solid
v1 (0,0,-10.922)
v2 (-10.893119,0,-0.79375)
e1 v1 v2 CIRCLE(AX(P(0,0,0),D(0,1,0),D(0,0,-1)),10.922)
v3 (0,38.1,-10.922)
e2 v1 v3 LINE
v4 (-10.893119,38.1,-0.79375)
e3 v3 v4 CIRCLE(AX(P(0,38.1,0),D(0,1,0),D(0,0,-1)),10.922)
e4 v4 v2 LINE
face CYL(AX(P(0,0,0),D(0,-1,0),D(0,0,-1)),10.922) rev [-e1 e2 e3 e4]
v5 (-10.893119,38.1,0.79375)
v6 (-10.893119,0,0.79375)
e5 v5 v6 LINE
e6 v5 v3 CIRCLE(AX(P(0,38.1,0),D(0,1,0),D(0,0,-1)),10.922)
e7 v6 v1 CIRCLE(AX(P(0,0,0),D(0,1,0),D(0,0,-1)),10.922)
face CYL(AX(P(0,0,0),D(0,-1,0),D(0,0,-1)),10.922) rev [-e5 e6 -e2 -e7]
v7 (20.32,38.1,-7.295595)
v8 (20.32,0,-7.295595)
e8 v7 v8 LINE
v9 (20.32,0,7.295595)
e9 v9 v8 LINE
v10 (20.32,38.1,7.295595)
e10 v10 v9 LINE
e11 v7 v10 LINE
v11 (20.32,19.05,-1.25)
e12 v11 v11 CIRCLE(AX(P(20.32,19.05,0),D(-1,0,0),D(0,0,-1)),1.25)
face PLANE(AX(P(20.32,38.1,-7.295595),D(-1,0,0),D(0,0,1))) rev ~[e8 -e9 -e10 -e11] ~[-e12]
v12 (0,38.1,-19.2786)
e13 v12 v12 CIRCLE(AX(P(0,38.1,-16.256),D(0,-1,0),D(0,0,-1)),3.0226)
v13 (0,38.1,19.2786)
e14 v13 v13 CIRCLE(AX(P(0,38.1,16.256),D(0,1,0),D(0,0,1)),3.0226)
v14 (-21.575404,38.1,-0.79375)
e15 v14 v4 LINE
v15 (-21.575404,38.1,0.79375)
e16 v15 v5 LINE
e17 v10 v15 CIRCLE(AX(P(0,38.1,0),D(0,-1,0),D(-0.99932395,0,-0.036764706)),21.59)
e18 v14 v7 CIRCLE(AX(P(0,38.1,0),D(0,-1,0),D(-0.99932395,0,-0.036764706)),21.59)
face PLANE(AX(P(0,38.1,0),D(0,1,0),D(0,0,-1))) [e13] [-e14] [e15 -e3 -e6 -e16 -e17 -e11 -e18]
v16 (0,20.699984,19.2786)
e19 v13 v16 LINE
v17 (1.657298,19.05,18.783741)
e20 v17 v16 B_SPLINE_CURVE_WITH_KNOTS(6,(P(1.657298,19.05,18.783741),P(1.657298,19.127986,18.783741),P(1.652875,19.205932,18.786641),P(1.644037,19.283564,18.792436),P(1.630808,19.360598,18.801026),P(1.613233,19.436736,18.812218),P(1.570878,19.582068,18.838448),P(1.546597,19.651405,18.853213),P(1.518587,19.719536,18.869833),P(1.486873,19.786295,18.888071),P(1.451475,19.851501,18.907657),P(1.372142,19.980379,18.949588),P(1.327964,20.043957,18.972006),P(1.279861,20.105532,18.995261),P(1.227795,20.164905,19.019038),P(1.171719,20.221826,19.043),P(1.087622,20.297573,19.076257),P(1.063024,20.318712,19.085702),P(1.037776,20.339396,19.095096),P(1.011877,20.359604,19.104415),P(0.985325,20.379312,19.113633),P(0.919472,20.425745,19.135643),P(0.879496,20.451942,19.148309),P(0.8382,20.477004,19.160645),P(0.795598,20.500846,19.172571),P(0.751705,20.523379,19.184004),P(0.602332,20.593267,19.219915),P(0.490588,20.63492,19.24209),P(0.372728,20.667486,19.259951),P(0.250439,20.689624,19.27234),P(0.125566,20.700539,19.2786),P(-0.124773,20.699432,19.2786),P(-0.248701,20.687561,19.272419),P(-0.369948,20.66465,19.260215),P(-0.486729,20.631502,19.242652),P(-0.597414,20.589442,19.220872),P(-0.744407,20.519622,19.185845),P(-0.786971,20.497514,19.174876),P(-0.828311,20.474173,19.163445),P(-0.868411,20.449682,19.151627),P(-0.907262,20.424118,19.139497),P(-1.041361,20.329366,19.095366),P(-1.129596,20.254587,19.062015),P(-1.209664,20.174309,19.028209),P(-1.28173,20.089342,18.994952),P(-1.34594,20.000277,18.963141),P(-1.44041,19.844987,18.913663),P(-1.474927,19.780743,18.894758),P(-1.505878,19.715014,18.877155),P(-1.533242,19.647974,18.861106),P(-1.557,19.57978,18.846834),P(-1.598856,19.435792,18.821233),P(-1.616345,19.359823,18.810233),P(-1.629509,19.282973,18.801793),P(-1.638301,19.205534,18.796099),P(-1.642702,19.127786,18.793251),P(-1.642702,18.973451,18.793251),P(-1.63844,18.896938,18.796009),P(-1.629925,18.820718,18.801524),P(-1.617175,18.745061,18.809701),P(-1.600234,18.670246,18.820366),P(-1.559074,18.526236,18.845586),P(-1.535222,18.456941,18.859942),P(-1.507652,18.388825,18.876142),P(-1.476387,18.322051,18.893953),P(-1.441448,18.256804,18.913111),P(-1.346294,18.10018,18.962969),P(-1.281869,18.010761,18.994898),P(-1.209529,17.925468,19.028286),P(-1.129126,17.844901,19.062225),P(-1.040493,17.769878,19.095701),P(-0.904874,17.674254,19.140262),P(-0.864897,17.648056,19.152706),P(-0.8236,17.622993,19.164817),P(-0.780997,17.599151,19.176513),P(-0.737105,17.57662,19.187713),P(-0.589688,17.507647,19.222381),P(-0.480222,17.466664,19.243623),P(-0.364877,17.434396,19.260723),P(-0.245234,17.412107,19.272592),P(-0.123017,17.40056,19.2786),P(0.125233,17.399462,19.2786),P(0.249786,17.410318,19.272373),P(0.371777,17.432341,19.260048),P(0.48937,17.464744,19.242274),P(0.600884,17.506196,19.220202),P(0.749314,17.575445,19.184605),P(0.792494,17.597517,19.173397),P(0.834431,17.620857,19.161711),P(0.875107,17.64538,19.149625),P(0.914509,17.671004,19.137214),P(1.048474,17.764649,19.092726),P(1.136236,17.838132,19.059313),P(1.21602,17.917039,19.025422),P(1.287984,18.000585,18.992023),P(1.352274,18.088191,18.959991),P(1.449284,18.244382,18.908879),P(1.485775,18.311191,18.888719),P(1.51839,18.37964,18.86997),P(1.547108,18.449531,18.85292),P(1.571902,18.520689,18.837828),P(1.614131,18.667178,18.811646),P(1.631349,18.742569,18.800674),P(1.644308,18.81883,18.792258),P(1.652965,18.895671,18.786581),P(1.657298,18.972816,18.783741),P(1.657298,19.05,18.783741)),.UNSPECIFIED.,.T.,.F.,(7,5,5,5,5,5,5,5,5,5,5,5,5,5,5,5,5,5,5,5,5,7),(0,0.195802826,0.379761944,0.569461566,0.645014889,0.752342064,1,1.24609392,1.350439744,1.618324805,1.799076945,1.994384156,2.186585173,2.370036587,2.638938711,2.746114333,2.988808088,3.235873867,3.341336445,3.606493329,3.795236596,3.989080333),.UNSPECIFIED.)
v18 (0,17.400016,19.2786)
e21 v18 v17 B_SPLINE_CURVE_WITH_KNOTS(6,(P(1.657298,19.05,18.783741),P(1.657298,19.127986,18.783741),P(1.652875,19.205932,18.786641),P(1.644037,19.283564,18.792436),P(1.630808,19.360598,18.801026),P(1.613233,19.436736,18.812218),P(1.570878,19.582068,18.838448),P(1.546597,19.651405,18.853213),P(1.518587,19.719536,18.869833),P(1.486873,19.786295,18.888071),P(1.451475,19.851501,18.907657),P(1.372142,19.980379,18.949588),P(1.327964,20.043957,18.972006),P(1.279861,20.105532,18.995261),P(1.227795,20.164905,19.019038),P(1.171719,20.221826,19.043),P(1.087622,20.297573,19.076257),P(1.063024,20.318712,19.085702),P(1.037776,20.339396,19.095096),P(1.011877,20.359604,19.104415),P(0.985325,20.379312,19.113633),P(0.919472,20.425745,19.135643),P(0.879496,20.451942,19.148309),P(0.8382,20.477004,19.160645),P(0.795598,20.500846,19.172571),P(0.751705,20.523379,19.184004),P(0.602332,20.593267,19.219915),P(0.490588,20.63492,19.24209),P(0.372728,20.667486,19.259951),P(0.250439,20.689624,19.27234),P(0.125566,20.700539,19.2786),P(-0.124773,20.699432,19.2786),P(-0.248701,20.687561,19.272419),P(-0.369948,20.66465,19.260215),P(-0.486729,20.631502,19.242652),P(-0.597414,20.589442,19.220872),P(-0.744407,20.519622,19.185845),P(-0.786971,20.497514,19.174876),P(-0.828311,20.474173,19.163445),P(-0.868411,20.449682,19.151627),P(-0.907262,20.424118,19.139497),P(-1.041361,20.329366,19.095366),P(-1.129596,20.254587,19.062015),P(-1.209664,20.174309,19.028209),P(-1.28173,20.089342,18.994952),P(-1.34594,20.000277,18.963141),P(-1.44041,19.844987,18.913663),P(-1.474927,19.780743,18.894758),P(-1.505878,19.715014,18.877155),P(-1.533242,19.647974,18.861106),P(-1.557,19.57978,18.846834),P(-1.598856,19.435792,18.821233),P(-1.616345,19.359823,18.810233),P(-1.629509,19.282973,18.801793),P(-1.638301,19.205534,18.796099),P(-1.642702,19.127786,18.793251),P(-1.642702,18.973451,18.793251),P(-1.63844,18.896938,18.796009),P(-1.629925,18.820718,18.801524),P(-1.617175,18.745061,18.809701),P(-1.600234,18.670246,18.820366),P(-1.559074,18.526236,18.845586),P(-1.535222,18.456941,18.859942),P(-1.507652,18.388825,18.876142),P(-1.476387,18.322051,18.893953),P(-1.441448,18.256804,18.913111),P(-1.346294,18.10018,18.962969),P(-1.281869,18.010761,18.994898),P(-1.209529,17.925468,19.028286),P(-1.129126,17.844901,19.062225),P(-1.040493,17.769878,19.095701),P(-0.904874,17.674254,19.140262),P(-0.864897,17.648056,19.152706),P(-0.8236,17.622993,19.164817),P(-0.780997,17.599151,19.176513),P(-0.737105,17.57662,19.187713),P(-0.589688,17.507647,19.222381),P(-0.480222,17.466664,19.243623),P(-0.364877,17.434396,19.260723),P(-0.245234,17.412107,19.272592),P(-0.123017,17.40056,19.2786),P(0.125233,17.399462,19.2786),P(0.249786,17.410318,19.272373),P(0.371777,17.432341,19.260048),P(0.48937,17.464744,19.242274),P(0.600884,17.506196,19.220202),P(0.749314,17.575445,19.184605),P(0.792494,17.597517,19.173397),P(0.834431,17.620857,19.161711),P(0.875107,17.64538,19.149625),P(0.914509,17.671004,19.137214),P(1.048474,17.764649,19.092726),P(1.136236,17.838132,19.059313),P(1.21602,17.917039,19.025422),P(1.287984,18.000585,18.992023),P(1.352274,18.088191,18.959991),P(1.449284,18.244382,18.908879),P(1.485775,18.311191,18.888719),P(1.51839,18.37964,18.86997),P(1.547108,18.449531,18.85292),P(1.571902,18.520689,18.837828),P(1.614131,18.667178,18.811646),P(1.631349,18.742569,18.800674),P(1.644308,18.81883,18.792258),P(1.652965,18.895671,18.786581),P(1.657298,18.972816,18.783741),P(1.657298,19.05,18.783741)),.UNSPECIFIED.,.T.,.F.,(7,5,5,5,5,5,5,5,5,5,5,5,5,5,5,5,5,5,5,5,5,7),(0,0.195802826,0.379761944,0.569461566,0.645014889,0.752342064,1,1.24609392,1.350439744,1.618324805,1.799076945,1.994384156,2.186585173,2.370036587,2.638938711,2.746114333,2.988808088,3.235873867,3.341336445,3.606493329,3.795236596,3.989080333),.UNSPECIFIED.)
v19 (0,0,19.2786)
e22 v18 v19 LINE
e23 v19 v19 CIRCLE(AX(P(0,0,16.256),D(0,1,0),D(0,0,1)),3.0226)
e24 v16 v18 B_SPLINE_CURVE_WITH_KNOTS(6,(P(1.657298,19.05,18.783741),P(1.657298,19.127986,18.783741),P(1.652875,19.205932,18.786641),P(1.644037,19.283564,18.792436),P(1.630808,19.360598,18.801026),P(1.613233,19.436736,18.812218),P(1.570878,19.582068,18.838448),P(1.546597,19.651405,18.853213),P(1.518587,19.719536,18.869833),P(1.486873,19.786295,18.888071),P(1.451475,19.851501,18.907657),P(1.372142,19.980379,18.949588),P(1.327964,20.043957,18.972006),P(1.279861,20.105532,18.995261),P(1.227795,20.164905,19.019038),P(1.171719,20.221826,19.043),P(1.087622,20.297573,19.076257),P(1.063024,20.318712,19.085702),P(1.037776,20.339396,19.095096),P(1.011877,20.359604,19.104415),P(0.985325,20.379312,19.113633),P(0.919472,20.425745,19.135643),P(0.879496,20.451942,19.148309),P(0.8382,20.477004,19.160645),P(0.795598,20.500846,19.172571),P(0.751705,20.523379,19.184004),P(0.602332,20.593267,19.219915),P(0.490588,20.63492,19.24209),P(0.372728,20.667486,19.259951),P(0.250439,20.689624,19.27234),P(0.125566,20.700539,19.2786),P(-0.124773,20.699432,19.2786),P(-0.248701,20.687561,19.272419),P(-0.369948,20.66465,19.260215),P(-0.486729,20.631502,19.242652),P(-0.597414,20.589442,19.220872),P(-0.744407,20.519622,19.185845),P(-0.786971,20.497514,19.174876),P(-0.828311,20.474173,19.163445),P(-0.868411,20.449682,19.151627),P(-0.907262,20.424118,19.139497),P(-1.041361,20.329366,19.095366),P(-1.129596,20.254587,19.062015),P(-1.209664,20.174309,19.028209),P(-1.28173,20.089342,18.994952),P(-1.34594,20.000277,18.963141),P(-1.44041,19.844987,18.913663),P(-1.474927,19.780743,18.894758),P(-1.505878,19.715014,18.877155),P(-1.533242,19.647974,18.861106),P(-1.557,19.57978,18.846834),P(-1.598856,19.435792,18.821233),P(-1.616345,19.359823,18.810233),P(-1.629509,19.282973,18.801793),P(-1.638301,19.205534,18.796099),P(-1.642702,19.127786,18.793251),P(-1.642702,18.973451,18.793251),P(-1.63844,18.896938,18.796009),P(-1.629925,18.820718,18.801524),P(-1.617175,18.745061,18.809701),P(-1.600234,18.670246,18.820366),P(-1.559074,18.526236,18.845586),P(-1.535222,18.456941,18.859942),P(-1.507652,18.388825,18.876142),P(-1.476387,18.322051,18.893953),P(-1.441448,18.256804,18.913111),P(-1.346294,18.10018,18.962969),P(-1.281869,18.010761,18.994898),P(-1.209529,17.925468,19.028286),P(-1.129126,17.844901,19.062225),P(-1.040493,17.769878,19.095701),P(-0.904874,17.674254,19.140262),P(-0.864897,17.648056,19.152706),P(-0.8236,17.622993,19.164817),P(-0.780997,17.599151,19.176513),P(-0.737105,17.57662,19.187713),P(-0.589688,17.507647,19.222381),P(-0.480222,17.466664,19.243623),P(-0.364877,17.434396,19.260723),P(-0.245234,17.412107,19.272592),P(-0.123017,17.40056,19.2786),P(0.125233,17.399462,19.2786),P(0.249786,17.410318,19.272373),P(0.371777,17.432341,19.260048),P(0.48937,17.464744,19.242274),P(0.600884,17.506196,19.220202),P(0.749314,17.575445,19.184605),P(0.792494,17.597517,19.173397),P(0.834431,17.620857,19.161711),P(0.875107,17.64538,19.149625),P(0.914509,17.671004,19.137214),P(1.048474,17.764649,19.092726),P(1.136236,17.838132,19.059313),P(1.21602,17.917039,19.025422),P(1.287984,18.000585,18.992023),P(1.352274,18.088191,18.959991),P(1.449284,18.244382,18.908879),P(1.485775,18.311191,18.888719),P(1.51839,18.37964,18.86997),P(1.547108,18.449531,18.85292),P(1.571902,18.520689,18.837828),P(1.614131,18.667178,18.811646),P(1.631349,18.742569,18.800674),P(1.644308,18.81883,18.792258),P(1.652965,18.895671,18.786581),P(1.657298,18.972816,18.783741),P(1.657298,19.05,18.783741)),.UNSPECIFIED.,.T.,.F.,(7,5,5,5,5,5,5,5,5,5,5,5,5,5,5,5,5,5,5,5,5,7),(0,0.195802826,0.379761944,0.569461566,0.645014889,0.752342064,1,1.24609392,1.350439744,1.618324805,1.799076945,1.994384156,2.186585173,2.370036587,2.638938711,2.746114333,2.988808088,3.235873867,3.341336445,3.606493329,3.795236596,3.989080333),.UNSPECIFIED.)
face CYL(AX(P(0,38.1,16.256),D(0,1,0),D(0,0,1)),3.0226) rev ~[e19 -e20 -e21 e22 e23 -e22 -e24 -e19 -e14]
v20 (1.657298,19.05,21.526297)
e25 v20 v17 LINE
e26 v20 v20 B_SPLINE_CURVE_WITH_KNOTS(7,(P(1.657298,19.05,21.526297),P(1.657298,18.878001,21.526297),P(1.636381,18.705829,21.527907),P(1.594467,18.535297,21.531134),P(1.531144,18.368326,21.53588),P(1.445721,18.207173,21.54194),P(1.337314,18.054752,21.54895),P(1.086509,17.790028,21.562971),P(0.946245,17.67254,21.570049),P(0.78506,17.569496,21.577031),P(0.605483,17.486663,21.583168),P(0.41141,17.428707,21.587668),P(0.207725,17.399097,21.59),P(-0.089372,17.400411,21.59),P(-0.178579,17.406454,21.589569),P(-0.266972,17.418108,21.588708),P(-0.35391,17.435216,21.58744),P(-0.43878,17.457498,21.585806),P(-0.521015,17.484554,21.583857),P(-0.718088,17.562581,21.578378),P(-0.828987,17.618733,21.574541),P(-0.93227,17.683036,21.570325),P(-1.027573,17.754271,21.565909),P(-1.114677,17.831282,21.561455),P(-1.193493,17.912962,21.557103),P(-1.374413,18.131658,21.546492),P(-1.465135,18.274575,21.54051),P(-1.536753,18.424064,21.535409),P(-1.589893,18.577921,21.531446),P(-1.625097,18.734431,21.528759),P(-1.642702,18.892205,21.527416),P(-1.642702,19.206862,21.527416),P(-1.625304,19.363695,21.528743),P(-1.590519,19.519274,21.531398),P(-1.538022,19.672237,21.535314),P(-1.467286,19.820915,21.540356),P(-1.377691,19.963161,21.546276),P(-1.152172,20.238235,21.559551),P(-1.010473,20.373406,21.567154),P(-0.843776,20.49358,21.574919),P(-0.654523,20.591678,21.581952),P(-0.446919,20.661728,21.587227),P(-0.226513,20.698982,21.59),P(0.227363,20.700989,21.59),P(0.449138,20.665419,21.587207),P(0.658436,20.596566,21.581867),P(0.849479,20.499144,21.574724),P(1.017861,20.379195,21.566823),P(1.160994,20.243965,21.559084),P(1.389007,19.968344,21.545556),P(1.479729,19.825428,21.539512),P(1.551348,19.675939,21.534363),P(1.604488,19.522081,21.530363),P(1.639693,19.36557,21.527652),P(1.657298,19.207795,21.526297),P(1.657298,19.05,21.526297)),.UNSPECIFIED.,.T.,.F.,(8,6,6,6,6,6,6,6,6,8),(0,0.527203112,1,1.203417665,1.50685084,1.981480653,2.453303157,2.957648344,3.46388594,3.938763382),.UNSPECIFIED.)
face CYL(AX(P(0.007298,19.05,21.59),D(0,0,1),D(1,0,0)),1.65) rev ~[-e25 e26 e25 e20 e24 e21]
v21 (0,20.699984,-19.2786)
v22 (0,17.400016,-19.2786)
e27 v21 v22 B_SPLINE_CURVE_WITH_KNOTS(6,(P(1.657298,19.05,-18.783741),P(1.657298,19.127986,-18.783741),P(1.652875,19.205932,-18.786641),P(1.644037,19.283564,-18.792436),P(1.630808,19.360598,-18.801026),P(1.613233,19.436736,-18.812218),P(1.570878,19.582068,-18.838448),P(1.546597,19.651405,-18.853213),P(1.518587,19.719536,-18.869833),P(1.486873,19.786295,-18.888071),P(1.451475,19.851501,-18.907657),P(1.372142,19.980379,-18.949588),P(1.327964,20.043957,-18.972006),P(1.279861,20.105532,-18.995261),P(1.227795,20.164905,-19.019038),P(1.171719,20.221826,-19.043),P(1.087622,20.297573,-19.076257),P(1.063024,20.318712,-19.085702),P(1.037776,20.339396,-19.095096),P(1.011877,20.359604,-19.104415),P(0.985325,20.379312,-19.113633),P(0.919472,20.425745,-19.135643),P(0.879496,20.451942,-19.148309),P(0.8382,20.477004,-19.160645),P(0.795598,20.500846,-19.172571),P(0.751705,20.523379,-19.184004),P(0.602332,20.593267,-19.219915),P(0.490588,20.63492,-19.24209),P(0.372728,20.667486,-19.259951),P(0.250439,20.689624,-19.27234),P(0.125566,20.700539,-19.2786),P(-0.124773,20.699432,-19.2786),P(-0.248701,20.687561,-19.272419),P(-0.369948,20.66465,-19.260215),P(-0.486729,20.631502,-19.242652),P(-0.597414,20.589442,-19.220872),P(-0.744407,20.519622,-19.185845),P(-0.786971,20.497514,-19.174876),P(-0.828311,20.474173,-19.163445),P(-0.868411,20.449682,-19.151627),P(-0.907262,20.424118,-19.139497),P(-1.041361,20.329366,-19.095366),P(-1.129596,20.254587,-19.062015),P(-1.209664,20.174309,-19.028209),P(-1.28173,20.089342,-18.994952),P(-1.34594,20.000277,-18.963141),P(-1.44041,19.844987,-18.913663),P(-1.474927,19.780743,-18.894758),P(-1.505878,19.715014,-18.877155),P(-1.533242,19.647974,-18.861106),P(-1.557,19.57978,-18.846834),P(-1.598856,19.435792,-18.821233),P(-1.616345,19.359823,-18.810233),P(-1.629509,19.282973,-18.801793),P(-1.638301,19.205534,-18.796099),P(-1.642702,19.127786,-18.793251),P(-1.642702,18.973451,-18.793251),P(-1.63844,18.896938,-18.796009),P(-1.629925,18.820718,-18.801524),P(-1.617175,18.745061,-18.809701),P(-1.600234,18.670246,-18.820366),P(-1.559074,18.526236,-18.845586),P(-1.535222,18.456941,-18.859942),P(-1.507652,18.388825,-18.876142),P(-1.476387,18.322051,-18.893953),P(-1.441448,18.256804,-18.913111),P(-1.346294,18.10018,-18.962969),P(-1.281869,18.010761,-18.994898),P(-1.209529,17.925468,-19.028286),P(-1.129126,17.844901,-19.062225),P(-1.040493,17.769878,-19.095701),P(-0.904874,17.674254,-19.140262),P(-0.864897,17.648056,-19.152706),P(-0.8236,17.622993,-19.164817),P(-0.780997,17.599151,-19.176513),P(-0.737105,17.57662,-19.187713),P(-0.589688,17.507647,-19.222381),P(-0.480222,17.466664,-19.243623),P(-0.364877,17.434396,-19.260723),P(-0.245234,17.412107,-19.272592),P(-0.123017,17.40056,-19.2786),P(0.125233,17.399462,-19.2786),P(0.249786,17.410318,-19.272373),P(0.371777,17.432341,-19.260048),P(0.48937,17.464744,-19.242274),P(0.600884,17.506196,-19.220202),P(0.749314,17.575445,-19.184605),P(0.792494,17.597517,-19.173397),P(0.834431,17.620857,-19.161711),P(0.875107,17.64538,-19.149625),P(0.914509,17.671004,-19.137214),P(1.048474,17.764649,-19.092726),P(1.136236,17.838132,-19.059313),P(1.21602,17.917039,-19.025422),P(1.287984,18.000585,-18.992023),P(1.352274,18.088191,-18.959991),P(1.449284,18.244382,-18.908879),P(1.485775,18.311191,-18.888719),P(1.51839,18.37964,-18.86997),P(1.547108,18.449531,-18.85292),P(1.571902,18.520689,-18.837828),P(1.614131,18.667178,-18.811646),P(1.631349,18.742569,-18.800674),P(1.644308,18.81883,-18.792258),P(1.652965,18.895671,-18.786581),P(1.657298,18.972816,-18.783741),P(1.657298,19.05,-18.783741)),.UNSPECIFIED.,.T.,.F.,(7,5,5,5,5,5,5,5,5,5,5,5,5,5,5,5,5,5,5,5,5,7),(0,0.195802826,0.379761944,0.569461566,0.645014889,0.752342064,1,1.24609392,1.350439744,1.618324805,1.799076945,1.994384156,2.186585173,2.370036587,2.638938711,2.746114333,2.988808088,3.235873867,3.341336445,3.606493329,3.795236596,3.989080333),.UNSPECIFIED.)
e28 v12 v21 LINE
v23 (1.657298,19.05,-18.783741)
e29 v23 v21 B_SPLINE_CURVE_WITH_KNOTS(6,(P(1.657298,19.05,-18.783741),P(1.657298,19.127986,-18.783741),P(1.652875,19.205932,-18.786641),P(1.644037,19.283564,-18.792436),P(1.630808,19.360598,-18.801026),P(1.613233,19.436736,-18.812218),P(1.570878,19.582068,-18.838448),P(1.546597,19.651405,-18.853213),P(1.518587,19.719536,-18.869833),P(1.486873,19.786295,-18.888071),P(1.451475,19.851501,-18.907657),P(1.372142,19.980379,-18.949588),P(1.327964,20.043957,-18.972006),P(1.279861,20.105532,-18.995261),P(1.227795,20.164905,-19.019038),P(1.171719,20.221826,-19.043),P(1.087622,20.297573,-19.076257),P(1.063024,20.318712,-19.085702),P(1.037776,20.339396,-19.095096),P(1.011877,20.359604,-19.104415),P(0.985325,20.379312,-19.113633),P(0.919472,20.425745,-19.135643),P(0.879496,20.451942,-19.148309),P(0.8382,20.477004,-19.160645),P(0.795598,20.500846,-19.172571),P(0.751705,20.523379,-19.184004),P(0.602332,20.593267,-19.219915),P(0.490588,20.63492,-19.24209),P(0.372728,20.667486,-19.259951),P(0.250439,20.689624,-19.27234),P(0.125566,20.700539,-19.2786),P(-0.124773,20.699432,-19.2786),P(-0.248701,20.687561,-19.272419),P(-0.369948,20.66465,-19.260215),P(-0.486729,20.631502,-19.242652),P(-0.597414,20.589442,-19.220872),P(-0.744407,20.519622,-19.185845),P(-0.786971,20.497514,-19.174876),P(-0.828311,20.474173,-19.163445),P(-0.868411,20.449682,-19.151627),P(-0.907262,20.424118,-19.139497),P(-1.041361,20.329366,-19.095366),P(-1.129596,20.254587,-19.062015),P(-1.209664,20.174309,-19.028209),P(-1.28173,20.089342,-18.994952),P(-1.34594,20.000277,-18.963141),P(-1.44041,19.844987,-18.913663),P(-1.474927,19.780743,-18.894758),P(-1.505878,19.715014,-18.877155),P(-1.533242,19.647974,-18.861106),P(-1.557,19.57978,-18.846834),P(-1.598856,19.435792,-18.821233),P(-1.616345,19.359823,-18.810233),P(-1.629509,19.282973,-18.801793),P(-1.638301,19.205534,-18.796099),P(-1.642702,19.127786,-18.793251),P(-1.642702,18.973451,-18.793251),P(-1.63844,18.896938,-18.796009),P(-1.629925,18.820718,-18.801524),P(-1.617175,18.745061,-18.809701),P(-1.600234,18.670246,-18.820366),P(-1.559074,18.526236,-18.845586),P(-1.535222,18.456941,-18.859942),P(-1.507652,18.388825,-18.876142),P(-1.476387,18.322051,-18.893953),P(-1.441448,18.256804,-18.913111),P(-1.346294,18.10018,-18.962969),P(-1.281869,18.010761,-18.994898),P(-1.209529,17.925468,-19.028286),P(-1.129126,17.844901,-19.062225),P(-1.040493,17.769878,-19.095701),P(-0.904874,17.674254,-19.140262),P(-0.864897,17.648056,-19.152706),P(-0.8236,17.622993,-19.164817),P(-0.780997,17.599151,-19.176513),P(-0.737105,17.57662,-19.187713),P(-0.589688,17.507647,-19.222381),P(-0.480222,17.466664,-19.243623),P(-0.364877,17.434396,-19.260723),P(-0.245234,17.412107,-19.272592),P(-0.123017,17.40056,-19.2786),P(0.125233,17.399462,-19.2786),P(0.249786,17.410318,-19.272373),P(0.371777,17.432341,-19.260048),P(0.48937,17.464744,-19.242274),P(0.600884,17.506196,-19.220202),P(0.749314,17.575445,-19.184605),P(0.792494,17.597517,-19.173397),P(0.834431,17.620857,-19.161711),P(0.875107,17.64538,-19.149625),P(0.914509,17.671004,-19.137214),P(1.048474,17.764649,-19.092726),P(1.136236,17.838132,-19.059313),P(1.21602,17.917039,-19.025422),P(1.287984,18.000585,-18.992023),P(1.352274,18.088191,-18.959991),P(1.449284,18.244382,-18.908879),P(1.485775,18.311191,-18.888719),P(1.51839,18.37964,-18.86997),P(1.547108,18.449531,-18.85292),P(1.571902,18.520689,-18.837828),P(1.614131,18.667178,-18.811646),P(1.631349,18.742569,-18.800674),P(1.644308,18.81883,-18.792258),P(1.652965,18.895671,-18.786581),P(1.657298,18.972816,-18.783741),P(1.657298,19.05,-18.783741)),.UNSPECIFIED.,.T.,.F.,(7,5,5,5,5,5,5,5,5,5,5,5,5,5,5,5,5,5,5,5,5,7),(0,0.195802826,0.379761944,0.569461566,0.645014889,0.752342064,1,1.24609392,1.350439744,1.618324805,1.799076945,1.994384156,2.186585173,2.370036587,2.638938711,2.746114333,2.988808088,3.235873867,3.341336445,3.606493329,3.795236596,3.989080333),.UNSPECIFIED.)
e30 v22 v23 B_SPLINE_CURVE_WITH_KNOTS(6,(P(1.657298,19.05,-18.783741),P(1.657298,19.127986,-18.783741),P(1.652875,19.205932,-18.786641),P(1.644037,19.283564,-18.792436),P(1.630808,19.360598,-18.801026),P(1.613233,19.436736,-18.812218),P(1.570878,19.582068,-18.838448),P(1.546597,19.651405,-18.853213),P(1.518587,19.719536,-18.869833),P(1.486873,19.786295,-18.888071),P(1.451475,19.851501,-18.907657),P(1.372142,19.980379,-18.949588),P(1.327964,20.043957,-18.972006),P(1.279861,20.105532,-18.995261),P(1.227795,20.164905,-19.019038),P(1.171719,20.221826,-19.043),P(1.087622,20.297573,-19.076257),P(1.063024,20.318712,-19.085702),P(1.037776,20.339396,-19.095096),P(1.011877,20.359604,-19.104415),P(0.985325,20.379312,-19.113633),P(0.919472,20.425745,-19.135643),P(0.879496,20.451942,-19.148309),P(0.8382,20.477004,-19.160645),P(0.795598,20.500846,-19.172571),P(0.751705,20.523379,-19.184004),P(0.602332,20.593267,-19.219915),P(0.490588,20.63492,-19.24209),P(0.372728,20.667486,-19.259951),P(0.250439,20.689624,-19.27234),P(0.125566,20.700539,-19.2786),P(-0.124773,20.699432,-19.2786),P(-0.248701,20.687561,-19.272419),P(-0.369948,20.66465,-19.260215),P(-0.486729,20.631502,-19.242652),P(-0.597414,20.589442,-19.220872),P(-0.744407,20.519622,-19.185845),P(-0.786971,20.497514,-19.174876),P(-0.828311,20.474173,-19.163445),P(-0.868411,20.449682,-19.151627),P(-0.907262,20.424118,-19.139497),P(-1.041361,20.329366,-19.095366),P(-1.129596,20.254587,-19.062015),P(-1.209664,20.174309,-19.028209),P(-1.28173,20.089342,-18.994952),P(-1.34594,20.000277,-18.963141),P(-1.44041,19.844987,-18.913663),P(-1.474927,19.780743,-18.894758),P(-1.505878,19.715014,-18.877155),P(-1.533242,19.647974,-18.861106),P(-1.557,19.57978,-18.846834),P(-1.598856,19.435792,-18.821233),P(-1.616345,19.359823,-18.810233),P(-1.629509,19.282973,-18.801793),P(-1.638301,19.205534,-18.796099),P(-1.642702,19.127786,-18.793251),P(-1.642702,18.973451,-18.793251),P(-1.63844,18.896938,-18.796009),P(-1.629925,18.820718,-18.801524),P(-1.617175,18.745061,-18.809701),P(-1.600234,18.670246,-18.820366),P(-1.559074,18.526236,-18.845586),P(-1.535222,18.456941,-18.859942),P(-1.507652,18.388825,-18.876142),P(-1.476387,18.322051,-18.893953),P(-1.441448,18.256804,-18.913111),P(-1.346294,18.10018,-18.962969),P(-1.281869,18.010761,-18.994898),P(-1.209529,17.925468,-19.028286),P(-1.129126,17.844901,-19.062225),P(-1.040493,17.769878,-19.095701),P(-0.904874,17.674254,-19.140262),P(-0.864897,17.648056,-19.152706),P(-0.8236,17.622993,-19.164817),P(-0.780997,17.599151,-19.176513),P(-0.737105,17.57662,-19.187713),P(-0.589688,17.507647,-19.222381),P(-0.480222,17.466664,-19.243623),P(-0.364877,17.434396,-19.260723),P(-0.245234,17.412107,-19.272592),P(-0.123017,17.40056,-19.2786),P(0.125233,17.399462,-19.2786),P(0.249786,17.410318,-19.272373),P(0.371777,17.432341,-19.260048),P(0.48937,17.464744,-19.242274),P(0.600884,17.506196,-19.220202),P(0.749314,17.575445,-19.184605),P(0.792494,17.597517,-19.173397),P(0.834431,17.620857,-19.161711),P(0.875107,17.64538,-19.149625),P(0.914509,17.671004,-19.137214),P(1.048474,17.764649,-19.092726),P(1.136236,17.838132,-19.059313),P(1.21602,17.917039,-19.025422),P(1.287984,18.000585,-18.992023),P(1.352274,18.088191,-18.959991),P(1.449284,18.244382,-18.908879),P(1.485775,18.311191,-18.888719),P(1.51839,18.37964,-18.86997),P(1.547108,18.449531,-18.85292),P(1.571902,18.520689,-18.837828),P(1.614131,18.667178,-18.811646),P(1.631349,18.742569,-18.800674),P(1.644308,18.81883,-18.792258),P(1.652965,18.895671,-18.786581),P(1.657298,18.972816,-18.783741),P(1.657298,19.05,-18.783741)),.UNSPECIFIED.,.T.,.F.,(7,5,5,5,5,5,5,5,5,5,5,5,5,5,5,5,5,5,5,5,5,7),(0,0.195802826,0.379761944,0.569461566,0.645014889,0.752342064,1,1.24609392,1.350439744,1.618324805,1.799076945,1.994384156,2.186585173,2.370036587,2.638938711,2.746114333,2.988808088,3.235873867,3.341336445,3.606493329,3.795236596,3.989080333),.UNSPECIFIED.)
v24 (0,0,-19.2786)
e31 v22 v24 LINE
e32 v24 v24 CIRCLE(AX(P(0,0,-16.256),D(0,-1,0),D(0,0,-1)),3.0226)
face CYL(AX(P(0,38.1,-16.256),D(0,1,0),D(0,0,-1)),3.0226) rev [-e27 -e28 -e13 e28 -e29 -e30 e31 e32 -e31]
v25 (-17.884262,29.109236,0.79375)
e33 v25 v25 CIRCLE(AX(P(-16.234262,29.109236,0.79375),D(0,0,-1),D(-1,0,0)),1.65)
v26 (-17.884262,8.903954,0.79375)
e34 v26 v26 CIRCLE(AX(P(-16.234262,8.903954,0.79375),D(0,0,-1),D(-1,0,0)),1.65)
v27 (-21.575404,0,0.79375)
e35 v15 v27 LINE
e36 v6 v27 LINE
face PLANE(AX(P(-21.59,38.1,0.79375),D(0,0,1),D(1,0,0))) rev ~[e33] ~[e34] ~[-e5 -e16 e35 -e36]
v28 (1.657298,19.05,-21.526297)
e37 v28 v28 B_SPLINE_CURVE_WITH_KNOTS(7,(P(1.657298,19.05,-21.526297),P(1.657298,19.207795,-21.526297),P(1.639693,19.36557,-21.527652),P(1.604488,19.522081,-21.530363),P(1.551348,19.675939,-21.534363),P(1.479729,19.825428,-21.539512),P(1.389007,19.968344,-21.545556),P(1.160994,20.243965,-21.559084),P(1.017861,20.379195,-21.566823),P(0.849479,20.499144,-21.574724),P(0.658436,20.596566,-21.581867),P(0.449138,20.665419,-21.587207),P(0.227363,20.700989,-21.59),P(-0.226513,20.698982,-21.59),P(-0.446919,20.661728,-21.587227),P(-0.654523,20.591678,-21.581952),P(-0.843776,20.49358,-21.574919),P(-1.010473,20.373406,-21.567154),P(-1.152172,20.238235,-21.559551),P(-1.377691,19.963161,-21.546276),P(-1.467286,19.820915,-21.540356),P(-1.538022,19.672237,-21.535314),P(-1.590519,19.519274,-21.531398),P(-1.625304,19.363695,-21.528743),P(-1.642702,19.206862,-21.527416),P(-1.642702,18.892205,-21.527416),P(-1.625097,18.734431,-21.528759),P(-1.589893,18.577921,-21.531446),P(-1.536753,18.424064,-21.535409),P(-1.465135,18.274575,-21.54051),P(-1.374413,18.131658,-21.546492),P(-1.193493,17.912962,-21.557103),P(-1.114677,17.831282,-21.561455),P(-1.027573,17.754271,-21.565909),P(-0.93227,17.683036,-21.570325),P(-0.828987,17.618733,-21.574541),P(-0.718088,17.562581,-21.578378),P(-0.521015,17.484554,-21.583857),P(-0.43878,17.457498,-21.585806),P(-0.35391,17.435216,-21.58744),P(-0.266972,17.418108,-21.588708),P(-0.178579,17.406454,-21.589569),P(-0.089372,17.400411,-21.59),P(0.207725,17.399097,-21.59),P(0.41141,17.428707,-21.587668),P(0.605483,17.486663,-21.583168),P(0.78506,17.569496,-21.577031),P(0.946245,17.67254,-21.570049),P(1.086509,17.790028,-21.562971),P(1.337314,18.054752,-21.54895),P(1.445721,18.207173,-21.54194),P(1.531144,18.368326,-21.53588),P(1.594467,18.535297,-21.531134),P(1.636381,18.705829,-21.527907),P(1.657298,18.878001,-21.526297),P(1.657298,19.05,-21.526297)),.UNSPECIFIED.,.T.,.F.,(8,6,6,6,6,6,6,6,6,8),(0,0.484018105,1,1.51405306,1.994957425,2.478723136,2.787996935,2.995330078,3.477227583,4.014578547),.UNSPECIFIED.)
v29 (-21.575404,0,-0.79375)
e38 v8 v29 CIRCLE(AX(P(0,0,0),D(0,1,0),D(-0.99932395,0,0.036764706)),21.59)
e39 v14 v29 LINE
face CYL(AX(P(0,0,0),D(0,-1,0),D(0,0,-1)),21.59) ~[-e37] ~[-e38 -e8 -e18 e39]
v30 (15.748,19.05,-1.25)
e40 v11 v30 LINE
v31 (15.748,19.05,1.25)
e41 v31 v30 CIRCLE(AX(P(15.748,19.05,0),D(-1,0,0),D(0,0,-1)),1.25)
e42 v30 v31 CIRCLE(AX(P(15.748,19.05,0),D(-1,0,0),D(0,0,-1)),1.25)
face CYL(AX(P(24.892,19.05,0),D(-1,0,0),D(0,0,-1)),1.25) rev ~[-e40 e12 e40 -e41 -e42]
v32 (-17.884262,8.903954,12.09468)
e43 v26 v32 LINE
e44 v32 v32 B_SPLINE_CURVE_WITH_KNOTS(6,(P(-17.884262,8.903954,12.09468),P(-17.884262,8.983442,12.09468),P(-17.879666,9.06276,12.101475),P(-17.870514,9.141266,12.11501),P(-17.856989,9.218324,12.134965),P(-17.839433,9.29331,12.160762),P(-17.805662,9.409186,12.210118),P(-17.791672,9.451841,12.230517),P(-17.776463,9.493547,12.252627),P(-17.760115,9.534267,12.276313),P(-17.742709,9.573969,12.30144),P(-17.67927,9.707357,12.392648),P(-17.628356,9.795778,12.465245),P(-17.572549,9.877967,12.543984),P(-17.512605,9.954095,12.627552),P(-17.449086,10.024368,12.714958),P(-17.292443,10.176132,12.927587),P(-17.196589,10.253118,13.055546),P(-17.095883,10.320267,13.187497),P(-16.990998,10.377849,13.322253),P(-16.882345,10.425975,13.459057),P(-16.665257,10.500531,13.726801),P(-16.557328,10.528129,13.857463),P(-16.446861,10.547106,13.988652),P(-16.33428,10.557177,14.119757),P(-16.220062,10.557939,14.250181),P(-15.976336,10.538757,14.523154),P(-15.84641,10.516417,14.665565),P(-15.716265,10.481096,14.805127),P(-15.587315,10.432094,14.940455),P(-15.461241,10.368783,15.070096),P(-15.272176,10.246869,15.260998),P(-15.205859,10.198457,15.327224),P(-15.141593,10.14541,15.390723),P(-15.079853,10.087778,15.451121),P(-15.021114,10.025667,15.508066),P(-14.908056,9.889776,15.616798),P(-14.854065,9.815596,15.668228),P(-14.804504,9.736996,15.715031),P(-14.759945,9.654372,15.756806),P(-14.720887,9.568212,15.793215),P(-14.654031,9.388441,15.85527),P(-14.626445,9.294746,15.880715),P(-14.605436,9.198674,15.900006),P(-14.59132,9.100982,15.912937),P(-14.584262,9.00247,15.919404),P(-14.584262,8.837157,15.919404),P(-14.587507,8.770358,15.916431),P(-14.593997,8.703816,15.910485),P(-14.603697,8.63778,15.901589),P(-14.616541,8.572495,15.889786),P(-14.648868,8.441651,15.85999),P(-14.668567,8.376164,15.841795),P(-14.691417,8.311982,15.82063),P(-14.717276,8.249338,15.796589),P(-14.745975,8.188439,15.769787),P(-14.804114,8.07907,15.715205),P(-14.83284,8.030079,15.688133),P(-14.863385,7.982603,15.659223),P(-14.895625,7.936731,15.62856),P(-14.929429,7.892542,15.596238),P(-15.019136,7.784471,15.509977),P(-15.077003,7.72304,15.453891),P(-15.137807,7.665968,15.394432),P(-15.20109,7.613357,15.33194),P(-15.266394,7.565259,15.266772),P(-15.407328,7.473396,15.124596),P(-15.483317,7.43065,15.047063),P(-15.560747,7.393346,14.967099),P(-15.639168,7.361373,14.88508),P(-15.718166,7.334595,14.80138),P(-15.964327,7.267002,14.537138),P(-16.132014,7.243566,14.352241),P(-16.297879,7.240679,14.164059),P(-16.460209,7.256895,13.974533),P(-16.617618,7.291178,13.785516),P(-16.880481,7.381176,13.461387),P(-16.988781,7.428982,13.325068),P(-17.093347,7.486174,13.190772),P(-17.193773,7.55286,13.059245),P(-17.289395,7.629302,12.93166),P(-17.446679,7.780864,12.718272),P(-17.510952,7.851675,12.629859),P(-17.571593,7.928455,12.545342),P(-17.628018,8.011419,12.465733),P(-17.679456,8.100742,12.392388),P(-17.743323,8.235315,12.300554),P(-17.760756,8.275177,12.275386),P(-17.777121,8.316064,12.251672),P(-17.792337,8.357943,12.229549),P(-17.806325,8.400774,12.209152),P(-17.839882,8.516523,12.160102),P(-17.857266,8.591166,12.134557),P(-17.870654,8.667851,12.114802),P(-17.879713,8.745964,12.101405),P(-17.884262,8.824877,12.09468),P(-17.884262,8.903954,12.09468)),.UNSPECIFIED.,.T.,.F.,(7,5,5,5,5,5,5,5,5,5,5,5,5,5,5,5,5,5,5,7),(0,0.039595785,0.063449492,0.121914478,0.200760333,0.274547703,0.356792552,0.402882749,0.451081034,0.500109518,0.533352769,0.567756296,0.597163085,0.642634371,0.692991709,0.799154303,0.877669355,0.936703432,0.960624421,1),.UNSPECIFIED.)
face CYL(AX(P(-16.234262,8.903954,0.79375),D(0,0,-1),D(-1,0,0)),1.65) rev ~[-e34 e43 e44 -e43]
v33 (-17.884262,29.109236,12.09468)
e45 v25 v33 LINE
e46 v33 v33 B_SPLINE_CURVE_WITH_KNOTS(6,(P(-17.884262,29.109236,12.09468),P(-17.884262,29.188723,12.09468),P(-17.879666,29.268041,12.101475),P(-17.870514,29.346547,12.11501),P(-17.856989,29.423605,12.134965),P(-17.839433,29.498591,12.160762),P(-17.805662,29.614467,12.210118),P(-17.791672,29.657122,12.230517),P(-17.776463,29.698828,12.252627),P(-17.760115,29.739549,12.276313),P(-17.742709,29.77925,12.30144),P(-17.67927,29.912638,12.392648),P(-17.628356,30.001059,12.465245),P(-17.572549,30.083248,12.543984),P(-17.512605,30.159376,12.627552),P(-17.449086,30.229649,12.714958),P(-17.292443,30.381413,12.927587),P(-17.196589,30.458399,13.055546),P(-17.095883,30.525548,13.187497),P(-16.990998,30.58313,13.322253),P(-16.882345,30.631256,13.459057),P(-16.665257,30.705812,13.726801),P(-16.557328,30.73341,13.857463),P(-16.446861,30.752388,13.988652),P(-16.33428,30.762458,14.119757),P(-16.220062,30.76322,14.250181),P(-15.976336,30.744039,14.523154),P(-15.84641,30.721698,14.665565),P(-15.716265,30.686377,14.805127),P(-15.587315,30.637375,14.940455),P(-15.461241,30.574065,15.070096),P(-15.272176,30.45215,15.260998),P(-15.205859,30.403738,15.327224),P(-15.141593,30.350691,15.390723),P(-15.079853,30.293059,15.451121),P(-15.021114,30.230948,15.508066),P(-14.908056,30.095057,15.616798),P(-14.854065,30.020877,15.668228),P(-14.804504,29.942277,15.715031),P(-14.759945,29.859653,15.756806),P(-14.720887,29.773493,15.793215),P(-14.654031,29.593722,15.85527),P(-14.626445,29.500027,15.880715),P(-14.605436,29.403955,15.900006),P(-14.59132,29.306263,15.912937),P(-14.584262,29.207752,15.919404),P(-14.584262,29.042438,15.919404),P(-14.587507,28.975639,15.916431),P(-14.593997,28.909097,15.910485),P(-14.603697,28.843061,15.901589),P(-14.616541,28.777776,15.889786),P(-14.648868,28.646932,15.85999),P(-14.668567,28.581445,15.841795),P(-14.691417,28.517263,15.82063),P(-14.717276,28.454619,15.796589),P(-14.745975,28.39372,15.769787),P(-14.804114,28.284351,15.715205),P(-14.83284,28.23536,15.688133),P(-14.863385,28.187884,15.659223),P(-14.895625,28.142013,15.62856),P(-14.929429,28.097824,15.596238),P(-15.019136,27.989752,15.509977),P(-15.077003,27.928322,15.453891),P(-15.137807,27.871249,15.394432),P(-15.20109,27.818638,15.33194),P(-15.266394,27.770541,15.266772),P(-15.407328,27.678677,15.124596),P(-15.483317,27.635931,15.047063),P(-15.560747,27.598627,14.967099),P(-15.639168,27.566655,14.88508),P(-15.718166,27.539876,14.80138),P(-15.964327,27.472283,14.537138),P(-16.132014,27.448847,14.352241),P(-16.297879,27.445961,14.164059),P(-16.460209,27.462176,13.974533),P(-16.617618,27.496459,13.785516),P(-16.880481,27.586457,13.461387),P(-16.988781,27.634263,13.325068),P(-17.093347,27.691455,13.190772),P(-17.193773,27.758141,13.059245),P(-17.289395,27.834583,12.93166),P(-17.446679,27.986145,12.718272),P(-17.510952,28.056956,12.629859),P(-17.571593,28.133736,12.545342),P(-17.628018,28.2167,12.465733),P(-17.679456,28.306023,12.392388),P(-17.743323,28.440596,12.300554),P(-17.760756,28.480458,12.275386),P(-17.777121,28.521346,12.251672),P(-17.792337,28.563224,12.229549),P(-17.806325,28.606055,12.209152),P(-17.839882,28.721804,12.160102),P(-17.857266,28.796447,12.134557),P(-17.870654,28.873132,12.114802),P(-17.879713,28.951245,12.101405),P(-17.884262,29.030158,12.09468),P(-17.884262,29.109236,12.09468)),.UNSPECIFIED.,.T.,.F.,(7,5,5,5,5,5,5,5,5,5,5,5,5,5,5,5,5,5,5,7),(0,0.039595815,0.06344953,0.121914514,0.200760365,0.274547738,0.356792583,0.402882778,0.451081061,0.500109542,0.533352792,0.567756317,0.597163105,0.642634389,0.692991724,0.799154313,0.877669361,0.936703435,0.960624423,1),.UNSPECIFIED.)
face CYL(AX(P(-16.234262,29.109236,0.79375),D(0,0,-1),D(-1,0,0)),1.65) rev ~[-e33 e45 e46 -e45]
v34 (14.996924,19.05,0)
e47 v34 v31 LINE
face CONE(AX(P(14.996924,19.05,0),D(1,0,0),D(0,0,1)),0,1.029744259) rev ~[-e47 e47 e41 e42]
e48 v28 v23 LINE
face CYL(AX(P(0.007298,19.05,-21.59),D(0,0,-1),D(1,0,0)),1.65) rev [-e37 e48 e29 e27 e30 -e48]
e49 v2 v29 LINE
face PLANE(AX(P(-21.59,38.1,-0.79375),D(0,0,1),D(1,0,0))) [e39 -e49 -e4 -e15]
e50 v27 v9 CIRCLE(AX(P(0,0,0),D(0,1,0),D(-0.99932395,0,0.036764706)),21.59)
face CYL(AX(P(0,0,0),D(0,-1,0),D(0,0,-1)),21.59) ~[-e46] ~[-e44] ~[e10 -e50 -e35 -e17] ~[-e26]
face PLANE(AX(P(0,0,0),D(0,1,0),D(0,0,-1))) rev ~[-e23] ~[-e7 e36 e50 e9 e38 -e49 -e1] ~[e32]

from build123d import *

# Parameters (mm, degrees)
SKETCH2_R                        = 21.59
SKETCH2_R_2                      = 10.922
BOSS_EXTRUDE1_DEPTH              = 38.1
CUT_EXTRUDE1_REACH               = 50.825
SKETCH3_W                        = 21.59
SKETCH3_H                        = 1.5875
CUT_EXTRUDE2_REACH               = 50.825
SKETCH4_R                        = 3.0226
TAP_DRILL_FOR_M4X0_7_TAP1_REACH  = 54.717
TAP_DRILL_FOR_M4X0_7_TAP1_BORE_R = 1.65
CUT_EXTRUDE5_REACH               = 63.5
CUT_EXTRUDE5_END_RADIUS          = 3.0226
SKETCH11_R                       = 1.65
CUT_EXTRUDE6_REACH               = 50.825
TAP_DRILL_FOR_M3X0_5_TAP2_D      = 2.5
TAP_DRILL_FOR_M3X0_5_TAP2_DEPTH  = 4.572
TAP_DRILL_FOR_M3X0_5_TAP2_TIP    = 0.751075774


with BuildPart() as part:
    # Sketch2 → Boss-Extrude1 (new body)
    with BuildSketch(Plane(origin=(0, 0, 0), x_dir=(1, 0, 0), z_dir=(0, 1, 0))):
        with Locations(Location((0, 0, 0), (0, 0, 90))):
            Circle(SKETCH2_R)
        with Locations(Location((0, 0, 0), (0, 0, 90))):
            Circle(SKETCH2_R_2, mode=Mode.SUBTRACT)
    extrude(amount=BOSS_EXTRUDE1_DEPTH)

    # Sketch3 → Cut-Extrude1 (cut, up to next)
    with BuildSketch(Plane(origin=(0, 38.1, 0), x_dir=(1, 0, 0), z_dir=(0, 1, 0)), mode=Mode.PRIVATE) as cut_extrude1_sk1:
        with Locations((-10.795, 0)):
            Rectangle(SKETCH3_W, SKETCH3_H)
    cut_extrude1_tool1 = extrude(cut_extrude1_sk1.sketch, amount=-CUT_EXTRUDE1_REACH, mode=Mode.PRIVATE) & part.part
    add(cut_extrude1_tool1.solids().sort_by_distance((-10.795, 38.1, 0))[0], mode=Mode.SUBTRACT)

    # Sketch4 → Cut-Extrude2 (cut, up to next)
    with BuildSketch(Plane(origin=(0, 38.1, 0), x_dir=(1, 0, 0), z_dir=(0, 1, 0)), mode=Mode.PRIVATE) as cut_extrude2_sk1:
        with Locations(Location((0, -16.256, 0), (0, 0, 270))):
            Circle(SKETCH4_R)
    cut_extrude2_tool1 = extrude(cut_extrude2_sk1.sketch, amount=-CUT_EXTRUDE2_REACH, mode=Mode.PRIVATE) & part.part
    cut_extrude2 = cut_extrude2_tool1.solids().sort_by_distance((0, 38.1, 16.256))[0]
    add(cut_extrude2, mode=Mode.SUBTRACT)

    # Tap Drill for M4x0.7 Tap1 bore (on position points) → Tap Drill for M4x0.7 Tap1 (cut, up to next)
    with BuildSketch(Plane(origin=(-16.234261615, 29.109235595, 0.79375), x_dir=(-1, 0, 0), z_dir=(0, 0, -1)), mode=Mode.PRIVATE) as tap_drill_for_m4x0_7_tap1_sk1:
        Circle(TAP_DRILL_FOR_M4X0_7_TAP1_BORE_R)
    tap_drill_for_m4x0_7_tap1_tool1 = extrude(tap_drill_for_m4x0_7_tap1_sk1.sketch, amount=-TAP_DRILL_FOR_M4X0_7_TAP1_REACH, mode=Mode.PRIVATE) & part.part
    # Tap Drill for M4x0.7 Tap1 bore (on position points) → Tap Drill for M4x0.7 Tap1 (cut, up to next)
    with BuildSketch(Plane(origin=(-16.234261615, 29.109235595, 0.79375), x_dir=(-1, 0, 0), z_dir=(0, 0, -1)), mode=Mode.PRIVATE) as tap_drill_for_m4x0_7_tap1_sk2:
        with Locations((0, -20.205281104)):
            Circle(TAP_DRILL_FOR_M4X0_7_TAP1_BORE_R)
    tap_drill_for_m4x0_7_tap1_tool2 = extrude(tap_drill_for_m4x0_7_tap1_sk2.sketch, amount=-TAP_DRILL_FOR_M4X0_7_TAP1_REACH, mode=Mode.PRIVATE) & part.part
    add(tap_drill_for_m4x0_7_tap1_tool1.solids().sort_by_distance((-16.234262, 29.109236, 0.79375))[0], mode=Mode.SUBTRACT)
    add(tap_drill_for_m4x0_7_tap1_tool2.solids().sort_by_distance((-16.234262, 8.903954, 0.79375))[0], mode=Mode.SUBTRACT)

    # Cut-Extrude5: up to this cylinder (the profile starts outside it)
    cut_extrude5_end = Plane(origin=(0, 19.05, 16.256), z_dir=(0, 1, 0)) * Cylinder(CUT_EXTRUDE5_END_RADIUS, 134.0452, mode=Mode.PRIVATE)
    # Sketch11 → Cut-Extrude5 (cut, up to the surface)
    with BuildSketch(Plane.XY.offset(21.59), mode=Mode.PRIVATE) as cut_extrude5_sk1:
        with Locations((0.007297963, 19.05)):
            Circle(SKETCH11_R)
    cut_extrude5_tool1 = extrude(cut_extrude5_sk1.sketch, amount=-CUT_EXTRUDE5_REACH, mode=Mode.PRIVATE) - cut_extrude5_end
    cut_extrude5 = cut_extrude5_tool1.solids().sort_by_distance((0.007298, 19.05, 21.59))[0]
    add(cut_extrude5, mode=Mode.SUBTRACT)

    # Mirror1: Cut-Extrude2, Cut-Extrude5 across plane
    add(cut_extrude2.mirror(Plane.XY), mode=Mode.SUBTRACT)
    add(cut_extrude5.mirror(Plane.XY), mode=Mode.SUBTRACT)

    # Sketch12 → Cut-Extrude6 (cut, up to next)
    with BuildSketch(Plane(origin=(0, 38.1, 0), x_dir=(1, 0, 0), z_dir=(0, 1, 0)), mode=Mode.PRIVATE) as cut_extrude6_sk1:
        with BuildLine():
            Line((20.32, 7.295594561), (20.32, -7.295594561))
            ThreePointArc((20.32, -7.295594561), (21.59, 0), (20.32, 7.295594561))
        make_face()
    cut_extrude6_tool1 = extrude(cut_extrude6_sk1.sketch, amount=-CUT_EXTRUDE6_REACH, mode=Mode.PRIVATE) & part.part
    add(cut_extrude6_tool1.solids().sort_by_distance((20.829303, 38.1, 0))[0], mode=Mode.SUBTRACT)

    # Tap Drill for M3x0.5 Tap2
    with Locations(Plane(origin=(20.32, 19.05, 0), x_dir=(0, 0, 1), z_dir=(1, 0, 0))):
        with Locations((0, 0)):
            Hole(TAP_DRILL_FOR_M3X0_5_TAP2_D / 2, depth=TAP_DRILL_FOR_M3X0_5_TAP2_DEPTH)
            with Locations((0, 0, -(TAP_DRILL_FOR_M3X0_5_TAP2_DEPTH + TAP_DRILL_FOR_M3X0_5_TAP2_TIP / 2))):  # 118° drill point
                Cone(0, TAP_DRILL_FOR_M3X0_5_TAP2_D / 2, TAP_DRILL_FOR_M3X0_5_TAP2_TIP, mode=Mode.SUBTRACT)


solid = part.part
